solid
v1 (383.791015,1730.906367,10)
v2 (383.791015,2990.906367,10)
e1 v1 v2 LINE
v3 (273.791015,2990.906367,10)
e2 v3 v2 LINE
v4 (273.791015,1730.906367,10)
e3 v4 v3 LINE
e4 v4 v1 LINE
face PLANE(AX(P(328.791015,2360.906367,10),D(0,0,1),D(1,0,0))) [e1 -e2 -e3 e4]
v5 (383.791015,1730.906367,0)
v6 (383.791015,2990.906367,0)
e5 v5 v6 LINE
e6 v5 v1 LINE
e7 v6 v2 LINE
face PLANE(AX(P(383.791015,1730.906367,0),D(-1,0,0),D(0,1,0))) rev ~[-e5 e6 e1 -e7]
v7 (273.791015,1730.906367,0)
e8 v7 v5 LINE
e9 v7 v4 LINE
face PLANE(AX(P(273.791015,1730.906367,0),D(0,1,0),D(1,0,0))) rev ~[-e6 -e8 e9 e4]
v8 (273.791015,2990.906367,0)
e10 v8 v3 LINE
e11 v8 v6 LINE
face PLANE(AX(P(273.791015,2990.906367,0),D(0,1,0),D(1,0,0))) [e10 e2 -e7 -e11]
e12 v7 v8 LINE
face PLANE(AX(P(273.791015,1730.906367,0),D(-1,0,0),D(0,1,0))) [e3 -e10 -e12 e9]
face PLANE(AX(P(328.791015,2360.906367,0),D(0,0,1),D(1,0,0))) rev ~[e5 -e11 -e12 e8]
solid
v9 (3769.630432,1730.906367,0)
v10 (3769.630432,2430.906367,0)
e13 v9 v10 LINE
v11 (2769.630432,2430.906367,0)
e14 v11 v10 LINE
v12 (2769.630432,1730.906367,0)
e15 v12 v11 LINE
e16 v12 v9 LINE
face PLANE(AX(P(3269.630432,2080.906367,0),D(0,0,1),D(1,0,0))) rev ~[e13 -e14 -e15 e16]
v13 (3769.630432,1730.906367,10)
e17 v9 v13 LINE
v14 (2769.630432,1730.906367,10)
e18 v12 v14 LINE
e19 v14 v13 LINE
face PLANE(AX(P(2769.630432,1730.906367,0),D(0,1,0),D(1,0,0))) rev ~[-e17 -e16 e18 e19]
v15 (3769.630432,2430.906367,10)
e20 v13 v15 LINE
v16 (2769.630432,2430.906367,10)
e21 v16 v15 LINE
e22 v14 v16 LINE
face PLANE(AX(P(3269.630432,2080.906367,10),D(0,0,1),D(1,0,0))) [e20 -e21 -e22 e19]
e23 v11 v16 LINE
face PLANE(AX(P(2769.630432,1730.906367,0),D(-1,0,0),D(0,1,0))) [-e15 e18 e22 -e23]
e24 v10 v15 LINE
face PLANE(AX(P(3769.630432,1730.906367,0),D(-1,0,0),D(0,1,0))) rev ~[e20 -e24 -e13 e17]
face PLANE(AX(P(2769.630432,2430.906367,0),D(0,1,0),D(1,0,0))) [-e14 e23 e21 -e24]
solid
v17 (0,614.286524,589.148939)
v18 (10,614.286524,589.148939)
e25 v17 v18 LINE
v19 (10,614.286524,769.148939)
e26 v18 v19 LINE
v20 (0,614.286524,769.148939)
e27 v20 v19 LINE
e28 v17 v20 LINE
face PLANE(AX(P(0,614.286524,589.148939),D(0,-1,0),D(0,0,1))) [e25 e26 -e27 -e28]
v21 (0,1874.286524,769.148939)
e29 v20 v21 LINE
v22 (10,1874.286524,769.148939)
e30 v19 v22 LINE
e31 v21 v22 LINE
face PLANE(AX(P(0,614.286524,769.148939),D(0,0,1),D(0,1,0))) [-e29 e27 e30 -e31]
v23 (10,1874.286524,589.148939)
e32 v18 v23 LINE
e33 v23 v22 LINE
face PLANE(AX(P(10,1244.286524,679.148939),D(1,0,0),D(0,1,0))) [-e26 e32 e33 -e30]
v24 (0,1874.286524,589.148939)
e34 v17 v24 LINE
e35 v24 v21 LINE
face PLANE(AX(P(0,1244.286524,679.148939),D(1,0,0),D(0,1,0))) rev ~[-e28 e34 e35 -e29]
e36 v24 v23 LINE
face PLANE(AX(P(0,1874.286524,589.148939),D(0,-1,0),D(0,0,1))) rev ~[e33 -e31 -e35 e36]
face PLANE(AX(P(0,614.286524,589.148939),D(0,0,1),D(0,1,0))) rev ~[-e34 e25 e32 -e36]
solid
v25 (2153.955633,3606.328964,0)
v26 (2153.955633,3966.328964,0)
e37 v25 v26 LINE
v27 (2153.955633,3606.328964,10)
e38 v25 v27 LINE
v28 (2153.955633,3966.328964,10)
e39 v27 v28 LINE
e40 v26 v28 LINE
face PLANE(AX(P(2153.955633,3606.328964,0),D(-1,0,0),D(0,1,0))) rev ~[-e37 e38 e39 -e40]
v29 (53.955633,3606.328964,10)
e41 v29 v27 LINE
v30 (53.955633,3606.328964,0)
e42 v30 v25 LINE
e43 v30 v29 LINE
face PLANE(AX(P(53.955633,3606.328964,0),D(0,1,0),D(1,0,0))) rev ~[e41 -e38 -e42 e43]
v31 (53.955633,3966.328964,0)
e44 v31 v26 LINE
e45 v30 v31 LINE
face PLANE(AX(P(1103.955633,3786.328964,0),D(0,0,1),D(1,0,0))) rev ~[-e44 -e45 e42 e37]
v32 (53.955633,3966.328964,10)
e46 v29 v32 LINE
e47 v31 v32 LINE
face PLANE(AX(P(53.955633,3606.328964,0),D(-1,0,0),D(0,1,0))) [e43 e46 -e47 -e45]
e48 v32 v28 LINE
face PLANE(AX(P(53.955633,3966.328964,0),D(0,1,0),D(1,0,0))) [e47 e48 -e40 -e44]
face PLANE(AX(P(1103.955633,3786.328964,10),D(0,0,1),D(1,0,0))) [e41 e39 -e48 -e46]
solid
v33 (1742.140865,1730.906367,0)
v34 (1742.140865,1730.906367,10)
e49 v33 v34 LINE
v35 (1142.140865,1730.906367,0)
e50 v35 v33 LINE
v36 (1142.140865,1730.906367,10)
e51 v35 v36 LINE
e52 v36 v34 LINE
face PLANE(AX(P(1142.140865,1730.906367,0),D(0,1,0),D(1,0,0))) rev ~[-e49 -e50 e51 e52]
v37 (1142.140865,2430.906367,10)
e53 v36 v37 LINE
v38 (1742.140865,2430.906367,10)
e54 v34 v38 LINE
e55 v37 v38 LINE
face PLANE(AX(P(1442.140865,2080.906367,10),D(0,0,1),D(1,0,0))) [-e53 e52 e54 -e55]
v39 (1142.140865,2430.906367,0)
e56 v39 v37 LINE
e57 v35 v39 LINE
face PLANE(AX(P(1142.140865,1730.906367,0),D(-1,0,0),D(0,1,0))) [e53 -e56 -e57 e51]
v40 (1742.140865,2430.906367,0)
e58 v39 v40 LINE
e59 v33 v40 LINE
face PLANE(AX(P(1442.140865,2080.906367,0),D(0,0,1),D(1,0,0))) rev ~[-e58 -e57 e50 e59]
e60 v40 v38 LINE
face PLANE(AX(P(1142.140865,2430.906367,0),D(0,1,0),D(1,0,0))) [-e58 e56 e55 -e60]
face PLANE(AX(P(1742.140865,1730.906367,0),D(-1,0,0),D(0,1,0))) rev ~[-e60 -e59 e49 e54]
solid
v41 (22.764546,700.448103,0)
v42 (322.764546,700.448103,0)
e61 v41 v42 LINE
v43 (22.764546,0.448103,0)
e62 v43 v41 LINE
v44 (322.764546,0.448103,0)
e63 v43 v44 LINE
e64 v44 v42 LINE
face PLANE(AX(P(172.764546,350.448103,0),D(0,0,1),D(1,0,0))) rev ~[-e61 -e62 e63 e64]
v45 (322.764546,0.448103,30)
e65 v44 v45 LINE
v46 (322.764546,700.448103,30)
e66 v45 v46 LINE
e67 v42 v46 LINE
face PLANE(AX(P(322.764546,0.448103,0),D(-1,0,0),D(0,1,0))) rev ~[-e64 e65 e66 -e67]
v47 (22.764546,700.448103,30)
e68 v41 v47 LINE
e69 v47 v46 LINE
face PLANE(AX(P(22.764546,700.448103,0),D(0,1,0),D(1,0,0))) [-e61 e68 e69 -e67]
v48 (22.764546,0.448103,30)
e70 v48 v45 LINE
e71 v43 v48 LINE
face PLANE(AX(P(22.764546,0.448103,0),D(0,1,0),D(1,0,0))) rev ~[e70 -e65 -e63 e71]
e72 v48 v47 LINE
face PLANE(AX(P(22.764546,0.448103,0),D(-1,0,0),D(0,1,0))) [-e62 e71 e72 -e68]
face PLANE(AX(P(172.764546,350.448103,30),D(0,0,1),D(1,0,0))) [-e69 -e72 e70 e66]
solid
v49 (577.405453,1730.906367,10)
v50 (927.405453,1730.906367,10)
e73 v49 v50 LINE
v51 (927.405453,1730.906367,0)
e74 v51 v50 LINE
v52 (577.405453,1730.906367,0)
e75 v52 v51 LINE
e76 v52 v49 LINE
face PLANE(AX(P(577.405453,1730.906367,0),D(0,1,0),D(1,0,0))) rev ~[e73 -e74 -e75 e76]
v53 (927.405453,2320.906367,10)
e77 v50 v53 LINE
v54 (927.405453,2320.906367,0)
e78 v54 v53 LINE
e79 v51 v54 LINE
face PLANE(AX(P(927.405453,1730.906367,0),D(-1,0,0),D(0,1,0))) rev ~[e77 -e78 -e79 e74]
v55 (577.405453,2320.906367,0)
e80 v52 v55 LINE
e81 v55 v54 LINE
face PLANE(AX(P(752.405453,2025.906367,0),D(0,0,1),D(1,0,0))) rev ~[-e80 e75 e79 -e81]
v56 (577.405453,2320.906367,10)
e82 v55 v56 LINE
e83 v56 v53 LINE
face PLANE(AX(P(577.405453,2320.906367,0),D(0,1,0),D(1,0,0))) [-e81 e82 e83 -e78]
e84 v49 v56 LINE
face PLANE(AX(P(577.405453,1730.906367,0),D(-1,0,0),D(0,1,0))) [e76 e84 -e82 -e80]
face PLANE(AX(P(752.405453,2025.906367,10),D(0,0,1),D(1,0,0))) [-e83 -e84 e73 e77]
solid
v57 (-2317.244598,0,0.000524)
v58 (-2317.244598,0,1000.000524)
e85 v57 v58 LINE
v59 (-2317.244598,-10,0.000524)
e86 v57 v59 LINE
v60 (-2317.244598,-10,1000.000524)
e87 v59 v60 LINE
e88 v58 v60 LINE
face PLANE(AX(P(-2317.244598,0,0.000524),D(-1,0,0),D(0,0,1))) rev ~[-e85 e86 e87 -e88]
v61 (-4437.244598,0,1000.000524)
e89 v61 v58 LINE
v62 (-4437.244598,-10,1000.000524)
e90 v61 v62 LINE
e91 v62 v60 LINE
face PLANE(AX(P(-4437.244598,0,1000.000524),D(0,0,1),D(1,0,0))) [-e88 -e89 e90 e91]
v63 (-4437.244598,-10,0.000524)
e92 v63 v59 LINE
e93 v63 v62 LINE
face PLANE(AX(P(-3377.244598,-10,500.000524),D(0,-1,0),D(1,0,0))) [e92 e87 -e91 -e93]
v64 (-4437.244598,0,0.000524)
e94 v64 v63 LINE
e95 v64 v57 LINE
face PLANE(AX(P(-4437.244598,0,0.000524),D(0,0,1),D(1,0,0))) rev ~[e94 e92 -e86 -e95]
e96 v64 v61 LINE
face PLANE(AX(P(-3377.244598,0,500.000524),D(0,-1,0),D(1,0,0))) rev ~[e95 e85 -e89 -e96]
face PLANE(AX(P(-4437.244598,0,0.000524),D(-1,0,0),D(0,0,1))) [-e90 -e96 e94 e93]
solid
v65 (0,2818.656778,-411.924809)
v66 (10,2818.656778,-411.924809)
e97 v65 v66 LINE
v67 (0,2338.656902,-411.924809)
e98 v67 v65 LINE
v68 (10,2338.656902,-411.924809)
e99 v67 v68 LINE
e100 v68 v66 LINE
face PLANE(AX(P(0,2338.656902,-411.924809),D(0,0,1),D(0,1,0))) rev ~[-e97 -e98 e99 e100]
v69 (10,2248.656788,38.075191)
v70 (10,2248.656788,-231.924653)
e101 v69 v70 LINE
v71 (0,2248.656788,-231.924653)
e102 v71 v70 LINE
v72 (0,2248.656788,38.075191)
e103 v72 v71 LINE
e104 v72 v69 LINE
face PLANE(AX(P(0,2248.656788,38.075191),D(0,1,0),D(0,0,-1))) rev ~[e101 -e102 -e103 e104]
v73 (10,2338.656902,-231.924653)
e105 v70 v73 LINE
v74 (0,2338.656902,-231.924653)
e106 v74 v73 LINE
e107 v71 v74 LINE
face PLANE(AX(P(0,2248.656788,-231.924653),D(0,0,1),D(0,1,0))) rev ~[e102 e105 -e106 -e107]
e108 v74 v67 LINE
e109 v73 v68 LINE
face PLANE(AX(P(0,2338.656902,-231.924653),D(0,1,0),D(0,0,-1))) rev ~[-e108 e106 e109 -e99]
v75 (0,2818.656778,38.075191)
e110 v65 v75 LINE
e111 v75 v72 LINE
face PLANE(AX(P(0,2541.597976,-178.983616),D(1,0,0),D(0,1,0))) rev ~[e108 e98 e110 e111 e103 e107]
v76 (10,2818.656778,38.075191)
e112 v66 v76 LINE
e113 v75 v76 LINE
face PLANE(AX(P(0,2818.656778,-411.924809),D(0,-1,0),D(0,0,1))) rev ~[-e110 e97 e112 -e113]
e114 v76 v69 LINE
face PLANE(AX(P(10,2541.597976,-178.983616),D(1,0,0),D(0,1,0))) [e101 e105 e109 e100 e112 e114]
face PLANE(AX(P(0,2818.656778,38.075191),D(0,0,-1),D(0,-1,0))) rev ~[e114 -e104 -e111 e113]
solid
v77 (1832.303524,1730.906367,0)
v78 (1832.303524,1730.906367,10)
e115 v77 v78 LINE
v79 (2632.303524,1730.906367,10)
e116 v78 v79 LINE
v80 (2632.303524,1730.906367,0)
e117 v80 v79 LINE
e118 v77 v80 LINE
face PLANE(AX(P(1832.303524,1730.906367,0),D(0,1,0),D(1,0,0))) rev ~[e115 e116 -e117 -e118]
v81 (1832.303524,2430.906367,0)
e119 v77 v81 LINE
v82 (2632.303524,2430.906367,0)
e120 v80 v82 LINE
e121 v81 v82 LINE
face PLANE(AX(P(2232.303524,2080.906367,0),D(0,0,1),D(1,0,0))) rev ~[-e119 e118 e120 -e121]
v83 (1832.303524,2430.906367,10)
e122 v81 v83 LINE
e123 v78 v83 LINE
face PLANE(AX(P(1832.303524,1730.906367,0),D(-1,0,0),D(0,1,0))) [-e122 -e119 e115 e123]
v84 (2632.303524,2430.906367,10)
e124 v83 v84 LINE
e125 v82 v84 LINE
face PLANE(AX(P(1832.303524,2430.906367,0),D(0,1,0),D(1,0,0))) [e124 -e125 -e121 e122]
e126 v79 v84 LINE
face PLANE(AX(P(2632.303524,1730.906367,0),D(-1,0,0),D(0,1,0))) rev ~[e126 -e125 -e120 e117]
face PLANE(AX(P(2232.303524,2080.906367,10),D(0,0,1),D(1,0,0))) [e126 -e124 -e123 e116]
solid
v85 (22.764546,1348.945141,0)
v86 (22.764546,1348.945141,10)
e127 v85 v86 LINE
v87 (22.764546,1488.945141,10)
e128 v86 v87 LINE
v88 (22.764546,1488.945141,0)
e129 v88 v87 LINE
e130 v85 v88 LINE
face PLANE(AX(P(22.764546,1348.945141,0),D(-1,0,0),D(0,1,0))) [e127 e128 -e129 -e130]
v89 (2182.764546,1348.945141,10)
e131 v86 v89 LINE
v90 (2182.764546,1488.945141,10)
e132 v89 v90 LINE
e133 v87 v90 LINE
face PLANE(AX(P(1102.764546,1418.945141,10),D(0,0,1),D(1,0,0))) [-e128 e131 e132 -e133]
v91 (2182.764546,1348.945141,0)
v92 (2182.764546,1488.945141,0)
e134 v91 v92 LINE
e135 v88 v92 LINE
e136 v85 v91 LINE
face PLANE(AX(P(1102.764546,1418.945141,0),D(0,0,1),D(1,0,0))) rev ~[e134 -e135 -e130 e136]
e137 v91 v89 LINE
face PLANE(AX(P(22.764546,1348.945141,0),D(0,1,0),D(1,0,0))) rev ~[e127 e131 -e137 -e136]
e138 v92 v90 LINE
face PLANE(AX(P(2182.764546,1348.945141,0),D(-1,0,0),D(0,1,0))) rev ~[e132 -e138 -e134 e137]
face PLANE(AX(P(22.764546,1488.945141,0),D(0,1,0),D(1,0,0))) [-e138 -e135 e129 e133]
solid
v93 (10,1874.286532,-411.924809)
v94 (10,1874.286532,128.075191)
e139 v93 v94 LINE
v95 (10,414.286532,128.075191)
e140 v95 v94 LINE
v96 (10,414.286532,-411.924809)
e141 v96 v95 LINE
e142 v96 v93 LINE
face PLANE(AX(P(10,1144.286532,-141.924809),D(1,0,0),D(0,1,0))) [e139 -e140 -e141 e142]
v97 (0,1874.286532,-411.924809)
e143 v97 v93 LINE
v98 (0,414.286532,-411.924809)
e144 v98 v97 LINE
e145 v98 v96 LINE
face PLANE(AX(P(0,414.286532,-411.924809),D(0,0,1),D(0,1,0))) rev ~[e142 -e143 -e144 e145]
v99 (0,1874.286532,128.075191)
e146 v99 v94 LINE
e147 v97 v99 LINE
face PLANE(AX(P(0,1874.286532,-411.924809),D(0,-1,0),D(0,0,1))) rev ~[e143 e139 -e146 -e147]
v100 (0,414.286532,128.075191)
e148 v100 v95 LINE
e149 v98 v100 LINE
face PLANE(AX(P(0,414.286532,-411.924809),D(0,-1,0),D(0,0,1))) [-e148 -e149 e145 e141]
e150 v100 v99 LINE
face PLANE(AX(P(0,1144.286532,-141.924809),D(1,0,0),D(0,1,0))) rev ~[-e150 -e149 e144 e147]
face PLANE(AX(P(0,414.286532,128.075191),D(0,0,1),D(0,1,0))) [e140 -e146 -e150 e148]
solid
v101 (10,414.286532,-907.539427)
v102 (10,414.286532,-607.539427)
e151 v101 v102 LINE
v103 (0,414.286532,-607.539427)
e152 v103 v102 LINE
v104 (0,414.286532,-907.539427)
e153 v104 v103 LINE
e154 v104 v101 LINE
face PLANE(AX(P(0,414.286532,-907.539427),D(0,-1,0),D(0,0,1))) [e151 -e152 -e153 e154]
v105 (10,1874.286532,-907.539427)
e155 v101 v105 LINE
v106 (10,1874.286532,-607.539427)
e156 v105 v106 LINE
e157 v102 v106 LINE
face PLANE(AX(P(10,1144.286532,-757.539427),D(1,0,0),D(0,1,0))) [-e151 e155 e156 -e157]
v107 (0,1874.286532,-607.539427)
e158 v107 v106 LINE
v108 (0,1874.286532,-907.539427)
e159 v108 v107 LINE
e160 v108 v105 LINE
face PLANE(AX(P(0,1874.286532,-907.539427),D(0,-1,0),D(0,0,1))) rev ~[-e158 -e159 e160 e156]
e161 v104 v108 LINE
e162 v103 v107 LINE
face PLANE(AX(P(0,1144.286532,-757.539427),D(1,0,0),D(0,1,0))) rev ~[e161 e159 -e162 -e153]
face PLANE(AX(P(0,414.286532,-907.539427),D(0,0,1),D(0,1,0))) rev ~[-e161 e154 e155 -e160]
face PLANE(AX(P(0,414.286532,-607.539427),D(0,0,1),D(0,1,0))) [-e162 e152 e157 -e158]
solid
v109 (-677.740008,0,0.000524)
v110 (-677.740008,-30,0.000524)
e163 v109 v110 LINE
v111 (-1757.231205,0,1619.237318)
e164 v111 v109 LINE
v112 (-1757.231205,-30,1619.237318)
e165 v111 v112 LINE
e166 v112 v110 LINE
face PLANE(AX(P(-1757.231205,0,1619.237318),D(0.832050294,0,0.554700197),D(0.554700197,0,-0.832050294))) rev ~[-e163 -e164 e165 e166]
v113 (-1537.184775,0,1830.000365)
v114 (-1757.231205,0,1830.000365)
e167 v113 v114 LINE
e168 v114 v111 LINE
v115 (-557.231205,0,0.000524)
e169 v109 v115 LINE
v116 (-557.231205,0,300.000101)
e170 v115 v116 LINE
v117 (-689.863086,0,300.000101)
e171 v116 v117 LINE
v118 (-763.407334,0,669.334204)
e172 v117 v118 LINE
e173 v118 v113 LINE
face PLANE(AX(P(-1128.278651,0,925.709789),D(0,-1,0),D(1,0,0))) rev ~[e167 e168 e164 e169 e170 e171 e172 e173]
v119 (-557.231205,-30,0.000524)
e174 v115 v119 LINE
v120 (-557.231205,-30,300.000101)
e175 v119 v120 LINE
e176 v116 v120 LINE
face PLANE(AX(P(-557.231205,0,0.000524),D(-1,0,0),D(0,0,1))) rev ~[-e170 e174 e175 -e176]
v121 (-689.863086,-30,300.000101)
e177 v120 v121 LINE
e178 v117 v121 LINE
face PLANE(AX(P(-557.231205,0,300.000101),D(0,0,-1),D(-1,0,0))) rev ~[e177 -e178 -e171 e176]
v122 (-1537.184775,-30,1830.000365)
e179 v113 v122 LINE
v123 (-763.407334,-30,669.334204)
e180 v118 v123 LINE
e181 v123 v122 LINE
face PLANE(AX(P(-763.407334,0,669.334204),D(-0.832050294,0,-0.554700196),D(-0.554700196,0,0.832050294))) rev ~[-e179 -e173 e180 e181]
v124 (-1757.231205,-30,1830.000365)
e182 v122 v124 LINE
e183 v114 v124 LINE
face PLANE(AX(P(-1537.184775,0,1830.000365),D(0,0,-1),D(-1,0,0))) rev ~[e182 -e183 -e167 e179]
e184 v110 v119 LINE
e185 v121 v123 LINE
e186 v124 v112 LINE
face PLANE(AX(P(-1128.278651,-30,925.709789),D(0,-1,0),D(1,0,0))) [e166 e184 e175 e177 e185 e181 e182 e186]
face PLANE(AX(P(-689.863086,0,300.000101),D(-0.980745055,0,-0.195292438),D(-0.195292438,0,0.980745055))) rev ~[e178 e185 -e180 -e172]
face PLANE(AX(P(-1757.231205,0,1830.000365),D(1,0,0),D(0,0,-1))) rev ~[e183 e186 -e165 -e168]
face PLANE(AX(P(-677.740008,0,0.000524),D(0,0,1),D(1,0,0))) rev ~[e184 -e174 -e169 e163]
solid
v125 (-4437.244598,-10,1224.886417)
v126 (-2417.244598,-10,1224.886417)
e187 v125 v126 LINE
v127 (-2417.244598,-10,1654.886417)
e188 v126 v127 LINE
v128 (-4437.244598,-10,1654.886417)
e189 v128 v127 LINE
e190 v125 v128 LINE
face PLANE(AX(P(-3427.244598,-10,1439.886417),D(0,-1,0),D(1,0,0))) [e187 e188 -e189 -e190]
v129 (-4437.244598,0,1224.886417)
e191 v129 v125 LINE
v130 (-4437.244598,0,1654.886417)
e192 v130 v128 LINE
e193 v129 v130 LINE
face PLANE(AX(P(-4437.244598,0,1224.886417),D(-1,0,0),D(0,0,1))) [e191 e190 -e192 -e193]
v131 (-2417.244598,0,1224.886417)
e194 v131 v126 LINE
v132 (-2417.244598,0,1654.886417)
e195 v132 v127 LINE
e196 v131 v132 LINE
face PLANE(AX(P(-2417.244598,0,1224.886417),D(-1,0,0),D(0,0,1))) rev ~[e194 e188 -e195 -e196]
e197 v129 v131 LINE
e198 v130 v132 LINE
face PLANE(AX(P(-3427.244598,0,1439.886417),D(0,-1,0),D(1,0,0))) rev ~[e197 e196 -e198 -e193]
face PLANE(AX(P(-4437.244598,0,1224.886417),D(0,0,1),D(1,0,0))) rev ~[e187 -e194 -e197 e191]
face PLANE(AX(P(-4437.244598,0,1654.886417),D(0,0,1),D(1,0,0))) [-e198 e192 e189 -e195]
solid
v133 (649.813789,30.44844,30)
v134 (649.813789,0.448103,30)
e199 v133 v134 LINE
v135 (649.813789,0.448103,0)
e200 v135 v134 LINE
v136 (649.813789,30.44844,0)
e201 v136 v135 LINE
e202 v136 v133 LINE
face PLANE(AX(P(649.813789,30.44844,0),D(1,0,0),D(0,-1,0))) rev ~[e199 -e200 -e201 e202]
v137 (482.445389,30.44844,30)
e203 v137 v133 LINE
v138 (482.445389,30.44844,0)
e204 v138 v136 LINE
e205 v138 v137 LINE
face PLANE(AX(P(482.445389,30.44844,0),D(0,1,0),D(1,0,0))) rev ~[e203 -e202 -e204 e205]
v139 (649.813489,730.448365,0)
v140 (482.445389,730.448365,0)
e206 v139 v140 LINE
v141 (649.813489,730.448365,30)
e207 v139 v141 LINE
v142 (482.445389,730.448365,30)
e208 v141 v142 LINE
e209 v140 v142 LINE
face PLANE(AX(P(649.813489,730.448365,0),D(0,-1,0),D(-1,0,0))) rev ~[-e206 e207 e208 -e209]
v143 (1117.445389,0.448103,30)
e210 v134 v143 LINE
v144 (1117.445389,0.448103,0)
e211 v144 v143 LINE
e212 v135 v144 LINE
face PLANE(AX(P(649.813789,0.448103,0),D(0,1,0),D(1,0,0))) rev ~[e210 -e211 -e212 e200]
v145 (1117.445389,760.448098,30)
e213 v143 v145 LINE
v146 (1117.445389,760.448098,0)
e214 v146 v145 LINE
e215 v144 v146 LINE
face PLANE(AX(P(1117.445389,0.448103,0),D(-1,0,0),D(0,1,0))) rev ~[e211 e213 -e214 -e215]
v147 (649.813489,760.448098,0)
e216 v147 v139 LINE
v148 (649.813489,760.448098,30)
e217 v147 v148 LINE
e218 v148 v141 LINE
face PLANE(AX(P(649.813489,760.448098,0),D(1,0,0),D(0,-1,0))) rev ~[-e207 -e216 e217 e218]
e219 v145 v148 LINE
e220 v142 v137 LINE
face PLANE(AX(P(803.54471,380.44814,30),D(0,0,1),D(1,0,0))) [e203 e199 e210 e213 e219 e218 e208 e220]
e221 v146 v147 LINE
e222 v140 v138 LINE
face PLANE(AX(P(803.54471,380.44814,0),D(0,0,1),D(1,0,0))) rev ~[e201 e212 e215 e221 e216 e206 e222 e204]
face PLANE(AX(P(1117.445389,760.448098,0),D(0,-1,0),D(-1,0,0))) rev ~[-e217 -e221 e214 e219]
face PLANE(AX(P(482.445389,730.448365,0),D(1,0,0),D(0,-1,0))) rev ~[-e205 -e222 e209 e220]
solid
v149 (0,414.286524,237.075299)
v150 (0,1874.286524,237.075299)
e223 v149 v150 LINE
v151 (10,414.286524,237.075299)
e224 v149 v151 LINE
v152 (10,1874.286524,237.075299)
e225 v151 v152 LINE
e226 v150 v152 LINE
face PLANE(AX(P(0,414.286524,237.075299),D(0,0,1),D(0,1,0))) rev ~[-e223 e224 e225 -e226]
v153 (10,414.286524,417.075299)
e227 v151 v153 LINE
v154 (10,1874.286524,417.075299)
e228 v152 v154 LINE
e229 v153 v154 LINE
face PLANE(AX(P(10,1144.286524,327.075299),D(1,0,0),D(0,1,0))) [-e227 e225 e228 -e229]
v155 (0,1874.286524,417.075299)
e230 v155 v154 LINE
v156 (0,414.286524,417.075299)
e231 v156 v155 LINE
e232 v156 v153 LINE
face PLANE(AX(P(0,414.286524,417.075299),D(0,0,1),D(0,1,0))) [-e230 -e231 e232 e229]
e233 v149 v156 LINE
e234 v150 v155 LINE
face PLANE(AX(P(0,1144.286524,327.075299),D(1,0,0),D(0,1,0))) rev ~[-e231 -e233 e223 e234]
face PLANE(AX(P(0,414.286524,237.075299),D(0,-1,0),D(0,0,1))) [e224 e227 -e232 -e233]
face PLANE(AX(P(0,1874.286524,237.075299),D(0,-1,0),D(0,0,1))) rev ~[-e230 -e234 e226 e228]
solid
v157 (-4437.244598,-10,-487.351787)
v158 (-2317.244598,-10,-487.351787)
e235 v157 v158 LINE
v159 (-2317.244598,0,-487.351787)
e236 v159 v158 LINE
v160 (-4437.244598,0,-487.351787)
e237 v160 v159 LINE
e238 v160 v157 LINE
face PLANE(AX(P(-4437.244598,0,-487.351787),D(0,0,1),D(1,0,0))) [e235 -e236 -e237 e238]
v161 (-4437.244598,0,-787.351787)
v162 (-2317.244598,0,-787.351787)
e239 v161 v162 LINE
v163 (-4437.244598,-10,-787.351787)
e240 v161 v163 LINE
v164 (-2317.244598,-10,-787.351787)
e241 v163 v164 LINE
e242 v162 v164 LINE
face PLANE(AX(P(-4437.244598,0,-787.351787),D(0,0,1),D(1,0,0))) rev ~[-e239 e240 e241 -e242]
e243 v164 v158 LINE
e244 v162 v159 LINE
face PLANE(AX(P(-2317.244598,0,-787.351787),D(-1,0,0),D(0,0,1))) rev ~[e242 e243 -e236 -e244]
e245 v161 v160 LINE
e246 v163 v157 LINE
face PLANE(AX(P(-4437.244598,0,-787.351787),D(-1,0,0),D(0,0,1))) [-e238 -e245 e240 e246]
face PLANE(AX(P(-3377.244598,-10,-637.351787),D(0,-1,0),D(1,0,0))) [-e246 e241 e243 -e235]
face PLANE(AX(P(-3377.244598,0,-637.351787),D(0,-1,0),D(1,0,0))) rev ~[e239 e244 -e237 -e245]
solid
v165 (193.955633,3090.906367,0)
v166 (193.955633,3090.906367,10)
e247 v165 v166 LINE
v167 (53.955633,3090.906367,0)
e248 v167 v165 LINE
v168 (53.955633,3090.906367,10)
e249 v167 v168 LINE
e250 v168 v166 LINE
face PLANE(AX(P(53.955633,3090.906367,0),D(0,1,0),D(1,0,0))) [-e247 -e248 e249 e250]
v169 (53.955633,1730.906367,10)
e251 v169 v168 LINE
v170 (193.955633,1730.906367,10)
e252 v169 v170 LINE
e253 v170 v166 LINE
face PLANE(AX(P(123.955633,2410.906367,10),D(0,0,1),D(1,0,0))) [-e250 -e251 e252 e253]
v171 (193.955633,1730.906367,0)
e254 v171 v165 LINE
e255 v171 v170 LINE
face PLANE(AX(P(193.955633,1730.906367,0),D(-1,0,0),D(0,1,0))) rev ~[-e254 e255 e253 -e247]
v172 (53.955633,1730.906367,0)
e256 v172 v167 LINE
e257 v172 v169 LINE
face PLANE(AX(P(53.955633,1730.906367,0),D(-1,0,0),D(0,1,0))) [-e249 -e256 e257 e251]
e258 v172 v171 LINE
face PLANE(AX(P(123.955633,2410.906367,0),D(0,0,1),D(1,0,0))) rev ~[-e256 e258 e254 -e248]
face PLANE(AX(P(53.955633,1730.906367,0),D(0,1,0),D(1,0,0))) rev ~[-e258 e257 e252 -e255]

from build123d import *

# Parameters (mm, degrees)
F0_W     = 300
F0_H     = 700
F1_DEPTH = 30
F0_W_2   = 2160
F0_H_2   = 140
F0_W_3   = 140
F0_H_3   = 1360
F0_W_4   = 110
F0_H_4   = 1260
F0_W_5   = 2100
F0_H_5   = 360
F0_W_6   = 350
F0_H_6   = 590
F0_W_7   = 600
F0_W_8   = 800
F0_W_9   = 1000
F2_DEPTH = 10
F4_DEPTH = 30
F3_W     = 2120
F3_H     = 1000
F3_W_2   = 2020
F3_H_2   = 430
F3_H_3   = 300
F5_DEPTH = 10
F6_W     = 1460
F6_H     = 180
F6_H_2   = 540
F6_W_2   = 1260
F6_H_3   = 300
F7_DEPTH = 10


with BuildPart() as f1:
    # F0 (on Top) → F1 (new body)
    with BuildSketch(Plane.XY):
        with Locations((172.764546, 350.448103)):
            Rectangle(F0_W, F0_H)
        Polygon((1117.445389, 760.448098), (649.813489, 760.448098), (649.813489, 730.448365), (482.445389, 730.448365), (482.445389, 30.44844), (649.813789, 30.44844), (649.813789, 0.448103), (1117.445389, 0.448103), align=None)
    extrude(amount=F1_DEPTH)


with BuildPart() as f2:
    # F0 (on Top) → F2 (new body)
    with BuildSketch(Plane.XY):
        with Locations((1102.764546, 1418.945141)):
            Rectangle(F0_W_2, F0_H_2)
        with Locations((123.955633, 2410.906367)):
            Rectangle(F0_W_3, F0_H_3)
        with Locations((328.791015, 2360.906367)):
            Rectangle(F0_W_4, F0_H_4)
        with Locations((1103.955633, 3786.328964)):
            Rectangle(F0_W_5, F0_H_5)
        with Locations((752.405453, 2025.906367)):
            Rectangle(F0_W_6, F0_H_6)
        with Locations((1442.140865, 2080.906367)):
            Rectangle(F0_W_7, F0_H)
        with Locations((2232.303524, 2080.906367)):
            Rectangle(F0_W_8, F0_H)
        with Locations((3269.630432, 2080.906367)):
            Rectangle(F0_W_9, F0_H)
    extrude(amount=F2_DEPTH)


with BuildPart() as f4:
    # F3 (on Front) → F4 (new body)
    with BuildSketch(Plane.XZ):
        Polygon((-677.740008, 0.000524), (-557.231205, 0.000524), (-557.231205, 300.000101), (-689.863086, 300.000101), (-763.407334, 669.334204), (-1537.184775, 1830.000365), (-1757.231205, 1830.000365), (-1757.231205, 1619.237318), align=None)
    extrude(amount=F4_DEPTH)


with BuildPart() as f5:
    # F3 (on Front) → F5 (new body)
    with BuildSketch(Plane.XZ):
        with Locations((-3377.244598, 500.000524)):
            Rectangle(F3_W, F3_H)
        with Locations((-3427.244598, 1439.886417)):
            Rectangle(F3_W_2, F3_H_2)
        with Locations((-3377.244598, -637.351787)):
            Rectangle(F3_W, F3_H_3)
    extrude(amount=F5_DEPTH)


with BuildPart() as f7:
    # F6 (on Right) → F7 (new body)
    with BuildSketch(Plane.YZ):
        with Locations((1144.286524, 327.075299)):
            Rectangle(F6_W, F6_H)
        with Locations((1144.286532, -141.924809)):
            Rectangle(F6_W, F6_H_2)
        Polygon((2338.656902, -231.924653), (2338.656902, -411.924809), (2818.656778, -411.924809), (2818.656778, 38.075191), (2248.656788, 38.075191), (2248.656788, -231.924653), align=None)
        with Locations((1244.286524, 679.148939)):
            Rectangle(F6_W_2, F6_H)
        with Locations((1144.286532, -757.539427)):
            Rectangle(F6_W, F6_H_3)
    extrude(amount=F7_DEPTH)


solid = Compound([f1.part, f2.part, f4.part, f5.part, f7.part])
